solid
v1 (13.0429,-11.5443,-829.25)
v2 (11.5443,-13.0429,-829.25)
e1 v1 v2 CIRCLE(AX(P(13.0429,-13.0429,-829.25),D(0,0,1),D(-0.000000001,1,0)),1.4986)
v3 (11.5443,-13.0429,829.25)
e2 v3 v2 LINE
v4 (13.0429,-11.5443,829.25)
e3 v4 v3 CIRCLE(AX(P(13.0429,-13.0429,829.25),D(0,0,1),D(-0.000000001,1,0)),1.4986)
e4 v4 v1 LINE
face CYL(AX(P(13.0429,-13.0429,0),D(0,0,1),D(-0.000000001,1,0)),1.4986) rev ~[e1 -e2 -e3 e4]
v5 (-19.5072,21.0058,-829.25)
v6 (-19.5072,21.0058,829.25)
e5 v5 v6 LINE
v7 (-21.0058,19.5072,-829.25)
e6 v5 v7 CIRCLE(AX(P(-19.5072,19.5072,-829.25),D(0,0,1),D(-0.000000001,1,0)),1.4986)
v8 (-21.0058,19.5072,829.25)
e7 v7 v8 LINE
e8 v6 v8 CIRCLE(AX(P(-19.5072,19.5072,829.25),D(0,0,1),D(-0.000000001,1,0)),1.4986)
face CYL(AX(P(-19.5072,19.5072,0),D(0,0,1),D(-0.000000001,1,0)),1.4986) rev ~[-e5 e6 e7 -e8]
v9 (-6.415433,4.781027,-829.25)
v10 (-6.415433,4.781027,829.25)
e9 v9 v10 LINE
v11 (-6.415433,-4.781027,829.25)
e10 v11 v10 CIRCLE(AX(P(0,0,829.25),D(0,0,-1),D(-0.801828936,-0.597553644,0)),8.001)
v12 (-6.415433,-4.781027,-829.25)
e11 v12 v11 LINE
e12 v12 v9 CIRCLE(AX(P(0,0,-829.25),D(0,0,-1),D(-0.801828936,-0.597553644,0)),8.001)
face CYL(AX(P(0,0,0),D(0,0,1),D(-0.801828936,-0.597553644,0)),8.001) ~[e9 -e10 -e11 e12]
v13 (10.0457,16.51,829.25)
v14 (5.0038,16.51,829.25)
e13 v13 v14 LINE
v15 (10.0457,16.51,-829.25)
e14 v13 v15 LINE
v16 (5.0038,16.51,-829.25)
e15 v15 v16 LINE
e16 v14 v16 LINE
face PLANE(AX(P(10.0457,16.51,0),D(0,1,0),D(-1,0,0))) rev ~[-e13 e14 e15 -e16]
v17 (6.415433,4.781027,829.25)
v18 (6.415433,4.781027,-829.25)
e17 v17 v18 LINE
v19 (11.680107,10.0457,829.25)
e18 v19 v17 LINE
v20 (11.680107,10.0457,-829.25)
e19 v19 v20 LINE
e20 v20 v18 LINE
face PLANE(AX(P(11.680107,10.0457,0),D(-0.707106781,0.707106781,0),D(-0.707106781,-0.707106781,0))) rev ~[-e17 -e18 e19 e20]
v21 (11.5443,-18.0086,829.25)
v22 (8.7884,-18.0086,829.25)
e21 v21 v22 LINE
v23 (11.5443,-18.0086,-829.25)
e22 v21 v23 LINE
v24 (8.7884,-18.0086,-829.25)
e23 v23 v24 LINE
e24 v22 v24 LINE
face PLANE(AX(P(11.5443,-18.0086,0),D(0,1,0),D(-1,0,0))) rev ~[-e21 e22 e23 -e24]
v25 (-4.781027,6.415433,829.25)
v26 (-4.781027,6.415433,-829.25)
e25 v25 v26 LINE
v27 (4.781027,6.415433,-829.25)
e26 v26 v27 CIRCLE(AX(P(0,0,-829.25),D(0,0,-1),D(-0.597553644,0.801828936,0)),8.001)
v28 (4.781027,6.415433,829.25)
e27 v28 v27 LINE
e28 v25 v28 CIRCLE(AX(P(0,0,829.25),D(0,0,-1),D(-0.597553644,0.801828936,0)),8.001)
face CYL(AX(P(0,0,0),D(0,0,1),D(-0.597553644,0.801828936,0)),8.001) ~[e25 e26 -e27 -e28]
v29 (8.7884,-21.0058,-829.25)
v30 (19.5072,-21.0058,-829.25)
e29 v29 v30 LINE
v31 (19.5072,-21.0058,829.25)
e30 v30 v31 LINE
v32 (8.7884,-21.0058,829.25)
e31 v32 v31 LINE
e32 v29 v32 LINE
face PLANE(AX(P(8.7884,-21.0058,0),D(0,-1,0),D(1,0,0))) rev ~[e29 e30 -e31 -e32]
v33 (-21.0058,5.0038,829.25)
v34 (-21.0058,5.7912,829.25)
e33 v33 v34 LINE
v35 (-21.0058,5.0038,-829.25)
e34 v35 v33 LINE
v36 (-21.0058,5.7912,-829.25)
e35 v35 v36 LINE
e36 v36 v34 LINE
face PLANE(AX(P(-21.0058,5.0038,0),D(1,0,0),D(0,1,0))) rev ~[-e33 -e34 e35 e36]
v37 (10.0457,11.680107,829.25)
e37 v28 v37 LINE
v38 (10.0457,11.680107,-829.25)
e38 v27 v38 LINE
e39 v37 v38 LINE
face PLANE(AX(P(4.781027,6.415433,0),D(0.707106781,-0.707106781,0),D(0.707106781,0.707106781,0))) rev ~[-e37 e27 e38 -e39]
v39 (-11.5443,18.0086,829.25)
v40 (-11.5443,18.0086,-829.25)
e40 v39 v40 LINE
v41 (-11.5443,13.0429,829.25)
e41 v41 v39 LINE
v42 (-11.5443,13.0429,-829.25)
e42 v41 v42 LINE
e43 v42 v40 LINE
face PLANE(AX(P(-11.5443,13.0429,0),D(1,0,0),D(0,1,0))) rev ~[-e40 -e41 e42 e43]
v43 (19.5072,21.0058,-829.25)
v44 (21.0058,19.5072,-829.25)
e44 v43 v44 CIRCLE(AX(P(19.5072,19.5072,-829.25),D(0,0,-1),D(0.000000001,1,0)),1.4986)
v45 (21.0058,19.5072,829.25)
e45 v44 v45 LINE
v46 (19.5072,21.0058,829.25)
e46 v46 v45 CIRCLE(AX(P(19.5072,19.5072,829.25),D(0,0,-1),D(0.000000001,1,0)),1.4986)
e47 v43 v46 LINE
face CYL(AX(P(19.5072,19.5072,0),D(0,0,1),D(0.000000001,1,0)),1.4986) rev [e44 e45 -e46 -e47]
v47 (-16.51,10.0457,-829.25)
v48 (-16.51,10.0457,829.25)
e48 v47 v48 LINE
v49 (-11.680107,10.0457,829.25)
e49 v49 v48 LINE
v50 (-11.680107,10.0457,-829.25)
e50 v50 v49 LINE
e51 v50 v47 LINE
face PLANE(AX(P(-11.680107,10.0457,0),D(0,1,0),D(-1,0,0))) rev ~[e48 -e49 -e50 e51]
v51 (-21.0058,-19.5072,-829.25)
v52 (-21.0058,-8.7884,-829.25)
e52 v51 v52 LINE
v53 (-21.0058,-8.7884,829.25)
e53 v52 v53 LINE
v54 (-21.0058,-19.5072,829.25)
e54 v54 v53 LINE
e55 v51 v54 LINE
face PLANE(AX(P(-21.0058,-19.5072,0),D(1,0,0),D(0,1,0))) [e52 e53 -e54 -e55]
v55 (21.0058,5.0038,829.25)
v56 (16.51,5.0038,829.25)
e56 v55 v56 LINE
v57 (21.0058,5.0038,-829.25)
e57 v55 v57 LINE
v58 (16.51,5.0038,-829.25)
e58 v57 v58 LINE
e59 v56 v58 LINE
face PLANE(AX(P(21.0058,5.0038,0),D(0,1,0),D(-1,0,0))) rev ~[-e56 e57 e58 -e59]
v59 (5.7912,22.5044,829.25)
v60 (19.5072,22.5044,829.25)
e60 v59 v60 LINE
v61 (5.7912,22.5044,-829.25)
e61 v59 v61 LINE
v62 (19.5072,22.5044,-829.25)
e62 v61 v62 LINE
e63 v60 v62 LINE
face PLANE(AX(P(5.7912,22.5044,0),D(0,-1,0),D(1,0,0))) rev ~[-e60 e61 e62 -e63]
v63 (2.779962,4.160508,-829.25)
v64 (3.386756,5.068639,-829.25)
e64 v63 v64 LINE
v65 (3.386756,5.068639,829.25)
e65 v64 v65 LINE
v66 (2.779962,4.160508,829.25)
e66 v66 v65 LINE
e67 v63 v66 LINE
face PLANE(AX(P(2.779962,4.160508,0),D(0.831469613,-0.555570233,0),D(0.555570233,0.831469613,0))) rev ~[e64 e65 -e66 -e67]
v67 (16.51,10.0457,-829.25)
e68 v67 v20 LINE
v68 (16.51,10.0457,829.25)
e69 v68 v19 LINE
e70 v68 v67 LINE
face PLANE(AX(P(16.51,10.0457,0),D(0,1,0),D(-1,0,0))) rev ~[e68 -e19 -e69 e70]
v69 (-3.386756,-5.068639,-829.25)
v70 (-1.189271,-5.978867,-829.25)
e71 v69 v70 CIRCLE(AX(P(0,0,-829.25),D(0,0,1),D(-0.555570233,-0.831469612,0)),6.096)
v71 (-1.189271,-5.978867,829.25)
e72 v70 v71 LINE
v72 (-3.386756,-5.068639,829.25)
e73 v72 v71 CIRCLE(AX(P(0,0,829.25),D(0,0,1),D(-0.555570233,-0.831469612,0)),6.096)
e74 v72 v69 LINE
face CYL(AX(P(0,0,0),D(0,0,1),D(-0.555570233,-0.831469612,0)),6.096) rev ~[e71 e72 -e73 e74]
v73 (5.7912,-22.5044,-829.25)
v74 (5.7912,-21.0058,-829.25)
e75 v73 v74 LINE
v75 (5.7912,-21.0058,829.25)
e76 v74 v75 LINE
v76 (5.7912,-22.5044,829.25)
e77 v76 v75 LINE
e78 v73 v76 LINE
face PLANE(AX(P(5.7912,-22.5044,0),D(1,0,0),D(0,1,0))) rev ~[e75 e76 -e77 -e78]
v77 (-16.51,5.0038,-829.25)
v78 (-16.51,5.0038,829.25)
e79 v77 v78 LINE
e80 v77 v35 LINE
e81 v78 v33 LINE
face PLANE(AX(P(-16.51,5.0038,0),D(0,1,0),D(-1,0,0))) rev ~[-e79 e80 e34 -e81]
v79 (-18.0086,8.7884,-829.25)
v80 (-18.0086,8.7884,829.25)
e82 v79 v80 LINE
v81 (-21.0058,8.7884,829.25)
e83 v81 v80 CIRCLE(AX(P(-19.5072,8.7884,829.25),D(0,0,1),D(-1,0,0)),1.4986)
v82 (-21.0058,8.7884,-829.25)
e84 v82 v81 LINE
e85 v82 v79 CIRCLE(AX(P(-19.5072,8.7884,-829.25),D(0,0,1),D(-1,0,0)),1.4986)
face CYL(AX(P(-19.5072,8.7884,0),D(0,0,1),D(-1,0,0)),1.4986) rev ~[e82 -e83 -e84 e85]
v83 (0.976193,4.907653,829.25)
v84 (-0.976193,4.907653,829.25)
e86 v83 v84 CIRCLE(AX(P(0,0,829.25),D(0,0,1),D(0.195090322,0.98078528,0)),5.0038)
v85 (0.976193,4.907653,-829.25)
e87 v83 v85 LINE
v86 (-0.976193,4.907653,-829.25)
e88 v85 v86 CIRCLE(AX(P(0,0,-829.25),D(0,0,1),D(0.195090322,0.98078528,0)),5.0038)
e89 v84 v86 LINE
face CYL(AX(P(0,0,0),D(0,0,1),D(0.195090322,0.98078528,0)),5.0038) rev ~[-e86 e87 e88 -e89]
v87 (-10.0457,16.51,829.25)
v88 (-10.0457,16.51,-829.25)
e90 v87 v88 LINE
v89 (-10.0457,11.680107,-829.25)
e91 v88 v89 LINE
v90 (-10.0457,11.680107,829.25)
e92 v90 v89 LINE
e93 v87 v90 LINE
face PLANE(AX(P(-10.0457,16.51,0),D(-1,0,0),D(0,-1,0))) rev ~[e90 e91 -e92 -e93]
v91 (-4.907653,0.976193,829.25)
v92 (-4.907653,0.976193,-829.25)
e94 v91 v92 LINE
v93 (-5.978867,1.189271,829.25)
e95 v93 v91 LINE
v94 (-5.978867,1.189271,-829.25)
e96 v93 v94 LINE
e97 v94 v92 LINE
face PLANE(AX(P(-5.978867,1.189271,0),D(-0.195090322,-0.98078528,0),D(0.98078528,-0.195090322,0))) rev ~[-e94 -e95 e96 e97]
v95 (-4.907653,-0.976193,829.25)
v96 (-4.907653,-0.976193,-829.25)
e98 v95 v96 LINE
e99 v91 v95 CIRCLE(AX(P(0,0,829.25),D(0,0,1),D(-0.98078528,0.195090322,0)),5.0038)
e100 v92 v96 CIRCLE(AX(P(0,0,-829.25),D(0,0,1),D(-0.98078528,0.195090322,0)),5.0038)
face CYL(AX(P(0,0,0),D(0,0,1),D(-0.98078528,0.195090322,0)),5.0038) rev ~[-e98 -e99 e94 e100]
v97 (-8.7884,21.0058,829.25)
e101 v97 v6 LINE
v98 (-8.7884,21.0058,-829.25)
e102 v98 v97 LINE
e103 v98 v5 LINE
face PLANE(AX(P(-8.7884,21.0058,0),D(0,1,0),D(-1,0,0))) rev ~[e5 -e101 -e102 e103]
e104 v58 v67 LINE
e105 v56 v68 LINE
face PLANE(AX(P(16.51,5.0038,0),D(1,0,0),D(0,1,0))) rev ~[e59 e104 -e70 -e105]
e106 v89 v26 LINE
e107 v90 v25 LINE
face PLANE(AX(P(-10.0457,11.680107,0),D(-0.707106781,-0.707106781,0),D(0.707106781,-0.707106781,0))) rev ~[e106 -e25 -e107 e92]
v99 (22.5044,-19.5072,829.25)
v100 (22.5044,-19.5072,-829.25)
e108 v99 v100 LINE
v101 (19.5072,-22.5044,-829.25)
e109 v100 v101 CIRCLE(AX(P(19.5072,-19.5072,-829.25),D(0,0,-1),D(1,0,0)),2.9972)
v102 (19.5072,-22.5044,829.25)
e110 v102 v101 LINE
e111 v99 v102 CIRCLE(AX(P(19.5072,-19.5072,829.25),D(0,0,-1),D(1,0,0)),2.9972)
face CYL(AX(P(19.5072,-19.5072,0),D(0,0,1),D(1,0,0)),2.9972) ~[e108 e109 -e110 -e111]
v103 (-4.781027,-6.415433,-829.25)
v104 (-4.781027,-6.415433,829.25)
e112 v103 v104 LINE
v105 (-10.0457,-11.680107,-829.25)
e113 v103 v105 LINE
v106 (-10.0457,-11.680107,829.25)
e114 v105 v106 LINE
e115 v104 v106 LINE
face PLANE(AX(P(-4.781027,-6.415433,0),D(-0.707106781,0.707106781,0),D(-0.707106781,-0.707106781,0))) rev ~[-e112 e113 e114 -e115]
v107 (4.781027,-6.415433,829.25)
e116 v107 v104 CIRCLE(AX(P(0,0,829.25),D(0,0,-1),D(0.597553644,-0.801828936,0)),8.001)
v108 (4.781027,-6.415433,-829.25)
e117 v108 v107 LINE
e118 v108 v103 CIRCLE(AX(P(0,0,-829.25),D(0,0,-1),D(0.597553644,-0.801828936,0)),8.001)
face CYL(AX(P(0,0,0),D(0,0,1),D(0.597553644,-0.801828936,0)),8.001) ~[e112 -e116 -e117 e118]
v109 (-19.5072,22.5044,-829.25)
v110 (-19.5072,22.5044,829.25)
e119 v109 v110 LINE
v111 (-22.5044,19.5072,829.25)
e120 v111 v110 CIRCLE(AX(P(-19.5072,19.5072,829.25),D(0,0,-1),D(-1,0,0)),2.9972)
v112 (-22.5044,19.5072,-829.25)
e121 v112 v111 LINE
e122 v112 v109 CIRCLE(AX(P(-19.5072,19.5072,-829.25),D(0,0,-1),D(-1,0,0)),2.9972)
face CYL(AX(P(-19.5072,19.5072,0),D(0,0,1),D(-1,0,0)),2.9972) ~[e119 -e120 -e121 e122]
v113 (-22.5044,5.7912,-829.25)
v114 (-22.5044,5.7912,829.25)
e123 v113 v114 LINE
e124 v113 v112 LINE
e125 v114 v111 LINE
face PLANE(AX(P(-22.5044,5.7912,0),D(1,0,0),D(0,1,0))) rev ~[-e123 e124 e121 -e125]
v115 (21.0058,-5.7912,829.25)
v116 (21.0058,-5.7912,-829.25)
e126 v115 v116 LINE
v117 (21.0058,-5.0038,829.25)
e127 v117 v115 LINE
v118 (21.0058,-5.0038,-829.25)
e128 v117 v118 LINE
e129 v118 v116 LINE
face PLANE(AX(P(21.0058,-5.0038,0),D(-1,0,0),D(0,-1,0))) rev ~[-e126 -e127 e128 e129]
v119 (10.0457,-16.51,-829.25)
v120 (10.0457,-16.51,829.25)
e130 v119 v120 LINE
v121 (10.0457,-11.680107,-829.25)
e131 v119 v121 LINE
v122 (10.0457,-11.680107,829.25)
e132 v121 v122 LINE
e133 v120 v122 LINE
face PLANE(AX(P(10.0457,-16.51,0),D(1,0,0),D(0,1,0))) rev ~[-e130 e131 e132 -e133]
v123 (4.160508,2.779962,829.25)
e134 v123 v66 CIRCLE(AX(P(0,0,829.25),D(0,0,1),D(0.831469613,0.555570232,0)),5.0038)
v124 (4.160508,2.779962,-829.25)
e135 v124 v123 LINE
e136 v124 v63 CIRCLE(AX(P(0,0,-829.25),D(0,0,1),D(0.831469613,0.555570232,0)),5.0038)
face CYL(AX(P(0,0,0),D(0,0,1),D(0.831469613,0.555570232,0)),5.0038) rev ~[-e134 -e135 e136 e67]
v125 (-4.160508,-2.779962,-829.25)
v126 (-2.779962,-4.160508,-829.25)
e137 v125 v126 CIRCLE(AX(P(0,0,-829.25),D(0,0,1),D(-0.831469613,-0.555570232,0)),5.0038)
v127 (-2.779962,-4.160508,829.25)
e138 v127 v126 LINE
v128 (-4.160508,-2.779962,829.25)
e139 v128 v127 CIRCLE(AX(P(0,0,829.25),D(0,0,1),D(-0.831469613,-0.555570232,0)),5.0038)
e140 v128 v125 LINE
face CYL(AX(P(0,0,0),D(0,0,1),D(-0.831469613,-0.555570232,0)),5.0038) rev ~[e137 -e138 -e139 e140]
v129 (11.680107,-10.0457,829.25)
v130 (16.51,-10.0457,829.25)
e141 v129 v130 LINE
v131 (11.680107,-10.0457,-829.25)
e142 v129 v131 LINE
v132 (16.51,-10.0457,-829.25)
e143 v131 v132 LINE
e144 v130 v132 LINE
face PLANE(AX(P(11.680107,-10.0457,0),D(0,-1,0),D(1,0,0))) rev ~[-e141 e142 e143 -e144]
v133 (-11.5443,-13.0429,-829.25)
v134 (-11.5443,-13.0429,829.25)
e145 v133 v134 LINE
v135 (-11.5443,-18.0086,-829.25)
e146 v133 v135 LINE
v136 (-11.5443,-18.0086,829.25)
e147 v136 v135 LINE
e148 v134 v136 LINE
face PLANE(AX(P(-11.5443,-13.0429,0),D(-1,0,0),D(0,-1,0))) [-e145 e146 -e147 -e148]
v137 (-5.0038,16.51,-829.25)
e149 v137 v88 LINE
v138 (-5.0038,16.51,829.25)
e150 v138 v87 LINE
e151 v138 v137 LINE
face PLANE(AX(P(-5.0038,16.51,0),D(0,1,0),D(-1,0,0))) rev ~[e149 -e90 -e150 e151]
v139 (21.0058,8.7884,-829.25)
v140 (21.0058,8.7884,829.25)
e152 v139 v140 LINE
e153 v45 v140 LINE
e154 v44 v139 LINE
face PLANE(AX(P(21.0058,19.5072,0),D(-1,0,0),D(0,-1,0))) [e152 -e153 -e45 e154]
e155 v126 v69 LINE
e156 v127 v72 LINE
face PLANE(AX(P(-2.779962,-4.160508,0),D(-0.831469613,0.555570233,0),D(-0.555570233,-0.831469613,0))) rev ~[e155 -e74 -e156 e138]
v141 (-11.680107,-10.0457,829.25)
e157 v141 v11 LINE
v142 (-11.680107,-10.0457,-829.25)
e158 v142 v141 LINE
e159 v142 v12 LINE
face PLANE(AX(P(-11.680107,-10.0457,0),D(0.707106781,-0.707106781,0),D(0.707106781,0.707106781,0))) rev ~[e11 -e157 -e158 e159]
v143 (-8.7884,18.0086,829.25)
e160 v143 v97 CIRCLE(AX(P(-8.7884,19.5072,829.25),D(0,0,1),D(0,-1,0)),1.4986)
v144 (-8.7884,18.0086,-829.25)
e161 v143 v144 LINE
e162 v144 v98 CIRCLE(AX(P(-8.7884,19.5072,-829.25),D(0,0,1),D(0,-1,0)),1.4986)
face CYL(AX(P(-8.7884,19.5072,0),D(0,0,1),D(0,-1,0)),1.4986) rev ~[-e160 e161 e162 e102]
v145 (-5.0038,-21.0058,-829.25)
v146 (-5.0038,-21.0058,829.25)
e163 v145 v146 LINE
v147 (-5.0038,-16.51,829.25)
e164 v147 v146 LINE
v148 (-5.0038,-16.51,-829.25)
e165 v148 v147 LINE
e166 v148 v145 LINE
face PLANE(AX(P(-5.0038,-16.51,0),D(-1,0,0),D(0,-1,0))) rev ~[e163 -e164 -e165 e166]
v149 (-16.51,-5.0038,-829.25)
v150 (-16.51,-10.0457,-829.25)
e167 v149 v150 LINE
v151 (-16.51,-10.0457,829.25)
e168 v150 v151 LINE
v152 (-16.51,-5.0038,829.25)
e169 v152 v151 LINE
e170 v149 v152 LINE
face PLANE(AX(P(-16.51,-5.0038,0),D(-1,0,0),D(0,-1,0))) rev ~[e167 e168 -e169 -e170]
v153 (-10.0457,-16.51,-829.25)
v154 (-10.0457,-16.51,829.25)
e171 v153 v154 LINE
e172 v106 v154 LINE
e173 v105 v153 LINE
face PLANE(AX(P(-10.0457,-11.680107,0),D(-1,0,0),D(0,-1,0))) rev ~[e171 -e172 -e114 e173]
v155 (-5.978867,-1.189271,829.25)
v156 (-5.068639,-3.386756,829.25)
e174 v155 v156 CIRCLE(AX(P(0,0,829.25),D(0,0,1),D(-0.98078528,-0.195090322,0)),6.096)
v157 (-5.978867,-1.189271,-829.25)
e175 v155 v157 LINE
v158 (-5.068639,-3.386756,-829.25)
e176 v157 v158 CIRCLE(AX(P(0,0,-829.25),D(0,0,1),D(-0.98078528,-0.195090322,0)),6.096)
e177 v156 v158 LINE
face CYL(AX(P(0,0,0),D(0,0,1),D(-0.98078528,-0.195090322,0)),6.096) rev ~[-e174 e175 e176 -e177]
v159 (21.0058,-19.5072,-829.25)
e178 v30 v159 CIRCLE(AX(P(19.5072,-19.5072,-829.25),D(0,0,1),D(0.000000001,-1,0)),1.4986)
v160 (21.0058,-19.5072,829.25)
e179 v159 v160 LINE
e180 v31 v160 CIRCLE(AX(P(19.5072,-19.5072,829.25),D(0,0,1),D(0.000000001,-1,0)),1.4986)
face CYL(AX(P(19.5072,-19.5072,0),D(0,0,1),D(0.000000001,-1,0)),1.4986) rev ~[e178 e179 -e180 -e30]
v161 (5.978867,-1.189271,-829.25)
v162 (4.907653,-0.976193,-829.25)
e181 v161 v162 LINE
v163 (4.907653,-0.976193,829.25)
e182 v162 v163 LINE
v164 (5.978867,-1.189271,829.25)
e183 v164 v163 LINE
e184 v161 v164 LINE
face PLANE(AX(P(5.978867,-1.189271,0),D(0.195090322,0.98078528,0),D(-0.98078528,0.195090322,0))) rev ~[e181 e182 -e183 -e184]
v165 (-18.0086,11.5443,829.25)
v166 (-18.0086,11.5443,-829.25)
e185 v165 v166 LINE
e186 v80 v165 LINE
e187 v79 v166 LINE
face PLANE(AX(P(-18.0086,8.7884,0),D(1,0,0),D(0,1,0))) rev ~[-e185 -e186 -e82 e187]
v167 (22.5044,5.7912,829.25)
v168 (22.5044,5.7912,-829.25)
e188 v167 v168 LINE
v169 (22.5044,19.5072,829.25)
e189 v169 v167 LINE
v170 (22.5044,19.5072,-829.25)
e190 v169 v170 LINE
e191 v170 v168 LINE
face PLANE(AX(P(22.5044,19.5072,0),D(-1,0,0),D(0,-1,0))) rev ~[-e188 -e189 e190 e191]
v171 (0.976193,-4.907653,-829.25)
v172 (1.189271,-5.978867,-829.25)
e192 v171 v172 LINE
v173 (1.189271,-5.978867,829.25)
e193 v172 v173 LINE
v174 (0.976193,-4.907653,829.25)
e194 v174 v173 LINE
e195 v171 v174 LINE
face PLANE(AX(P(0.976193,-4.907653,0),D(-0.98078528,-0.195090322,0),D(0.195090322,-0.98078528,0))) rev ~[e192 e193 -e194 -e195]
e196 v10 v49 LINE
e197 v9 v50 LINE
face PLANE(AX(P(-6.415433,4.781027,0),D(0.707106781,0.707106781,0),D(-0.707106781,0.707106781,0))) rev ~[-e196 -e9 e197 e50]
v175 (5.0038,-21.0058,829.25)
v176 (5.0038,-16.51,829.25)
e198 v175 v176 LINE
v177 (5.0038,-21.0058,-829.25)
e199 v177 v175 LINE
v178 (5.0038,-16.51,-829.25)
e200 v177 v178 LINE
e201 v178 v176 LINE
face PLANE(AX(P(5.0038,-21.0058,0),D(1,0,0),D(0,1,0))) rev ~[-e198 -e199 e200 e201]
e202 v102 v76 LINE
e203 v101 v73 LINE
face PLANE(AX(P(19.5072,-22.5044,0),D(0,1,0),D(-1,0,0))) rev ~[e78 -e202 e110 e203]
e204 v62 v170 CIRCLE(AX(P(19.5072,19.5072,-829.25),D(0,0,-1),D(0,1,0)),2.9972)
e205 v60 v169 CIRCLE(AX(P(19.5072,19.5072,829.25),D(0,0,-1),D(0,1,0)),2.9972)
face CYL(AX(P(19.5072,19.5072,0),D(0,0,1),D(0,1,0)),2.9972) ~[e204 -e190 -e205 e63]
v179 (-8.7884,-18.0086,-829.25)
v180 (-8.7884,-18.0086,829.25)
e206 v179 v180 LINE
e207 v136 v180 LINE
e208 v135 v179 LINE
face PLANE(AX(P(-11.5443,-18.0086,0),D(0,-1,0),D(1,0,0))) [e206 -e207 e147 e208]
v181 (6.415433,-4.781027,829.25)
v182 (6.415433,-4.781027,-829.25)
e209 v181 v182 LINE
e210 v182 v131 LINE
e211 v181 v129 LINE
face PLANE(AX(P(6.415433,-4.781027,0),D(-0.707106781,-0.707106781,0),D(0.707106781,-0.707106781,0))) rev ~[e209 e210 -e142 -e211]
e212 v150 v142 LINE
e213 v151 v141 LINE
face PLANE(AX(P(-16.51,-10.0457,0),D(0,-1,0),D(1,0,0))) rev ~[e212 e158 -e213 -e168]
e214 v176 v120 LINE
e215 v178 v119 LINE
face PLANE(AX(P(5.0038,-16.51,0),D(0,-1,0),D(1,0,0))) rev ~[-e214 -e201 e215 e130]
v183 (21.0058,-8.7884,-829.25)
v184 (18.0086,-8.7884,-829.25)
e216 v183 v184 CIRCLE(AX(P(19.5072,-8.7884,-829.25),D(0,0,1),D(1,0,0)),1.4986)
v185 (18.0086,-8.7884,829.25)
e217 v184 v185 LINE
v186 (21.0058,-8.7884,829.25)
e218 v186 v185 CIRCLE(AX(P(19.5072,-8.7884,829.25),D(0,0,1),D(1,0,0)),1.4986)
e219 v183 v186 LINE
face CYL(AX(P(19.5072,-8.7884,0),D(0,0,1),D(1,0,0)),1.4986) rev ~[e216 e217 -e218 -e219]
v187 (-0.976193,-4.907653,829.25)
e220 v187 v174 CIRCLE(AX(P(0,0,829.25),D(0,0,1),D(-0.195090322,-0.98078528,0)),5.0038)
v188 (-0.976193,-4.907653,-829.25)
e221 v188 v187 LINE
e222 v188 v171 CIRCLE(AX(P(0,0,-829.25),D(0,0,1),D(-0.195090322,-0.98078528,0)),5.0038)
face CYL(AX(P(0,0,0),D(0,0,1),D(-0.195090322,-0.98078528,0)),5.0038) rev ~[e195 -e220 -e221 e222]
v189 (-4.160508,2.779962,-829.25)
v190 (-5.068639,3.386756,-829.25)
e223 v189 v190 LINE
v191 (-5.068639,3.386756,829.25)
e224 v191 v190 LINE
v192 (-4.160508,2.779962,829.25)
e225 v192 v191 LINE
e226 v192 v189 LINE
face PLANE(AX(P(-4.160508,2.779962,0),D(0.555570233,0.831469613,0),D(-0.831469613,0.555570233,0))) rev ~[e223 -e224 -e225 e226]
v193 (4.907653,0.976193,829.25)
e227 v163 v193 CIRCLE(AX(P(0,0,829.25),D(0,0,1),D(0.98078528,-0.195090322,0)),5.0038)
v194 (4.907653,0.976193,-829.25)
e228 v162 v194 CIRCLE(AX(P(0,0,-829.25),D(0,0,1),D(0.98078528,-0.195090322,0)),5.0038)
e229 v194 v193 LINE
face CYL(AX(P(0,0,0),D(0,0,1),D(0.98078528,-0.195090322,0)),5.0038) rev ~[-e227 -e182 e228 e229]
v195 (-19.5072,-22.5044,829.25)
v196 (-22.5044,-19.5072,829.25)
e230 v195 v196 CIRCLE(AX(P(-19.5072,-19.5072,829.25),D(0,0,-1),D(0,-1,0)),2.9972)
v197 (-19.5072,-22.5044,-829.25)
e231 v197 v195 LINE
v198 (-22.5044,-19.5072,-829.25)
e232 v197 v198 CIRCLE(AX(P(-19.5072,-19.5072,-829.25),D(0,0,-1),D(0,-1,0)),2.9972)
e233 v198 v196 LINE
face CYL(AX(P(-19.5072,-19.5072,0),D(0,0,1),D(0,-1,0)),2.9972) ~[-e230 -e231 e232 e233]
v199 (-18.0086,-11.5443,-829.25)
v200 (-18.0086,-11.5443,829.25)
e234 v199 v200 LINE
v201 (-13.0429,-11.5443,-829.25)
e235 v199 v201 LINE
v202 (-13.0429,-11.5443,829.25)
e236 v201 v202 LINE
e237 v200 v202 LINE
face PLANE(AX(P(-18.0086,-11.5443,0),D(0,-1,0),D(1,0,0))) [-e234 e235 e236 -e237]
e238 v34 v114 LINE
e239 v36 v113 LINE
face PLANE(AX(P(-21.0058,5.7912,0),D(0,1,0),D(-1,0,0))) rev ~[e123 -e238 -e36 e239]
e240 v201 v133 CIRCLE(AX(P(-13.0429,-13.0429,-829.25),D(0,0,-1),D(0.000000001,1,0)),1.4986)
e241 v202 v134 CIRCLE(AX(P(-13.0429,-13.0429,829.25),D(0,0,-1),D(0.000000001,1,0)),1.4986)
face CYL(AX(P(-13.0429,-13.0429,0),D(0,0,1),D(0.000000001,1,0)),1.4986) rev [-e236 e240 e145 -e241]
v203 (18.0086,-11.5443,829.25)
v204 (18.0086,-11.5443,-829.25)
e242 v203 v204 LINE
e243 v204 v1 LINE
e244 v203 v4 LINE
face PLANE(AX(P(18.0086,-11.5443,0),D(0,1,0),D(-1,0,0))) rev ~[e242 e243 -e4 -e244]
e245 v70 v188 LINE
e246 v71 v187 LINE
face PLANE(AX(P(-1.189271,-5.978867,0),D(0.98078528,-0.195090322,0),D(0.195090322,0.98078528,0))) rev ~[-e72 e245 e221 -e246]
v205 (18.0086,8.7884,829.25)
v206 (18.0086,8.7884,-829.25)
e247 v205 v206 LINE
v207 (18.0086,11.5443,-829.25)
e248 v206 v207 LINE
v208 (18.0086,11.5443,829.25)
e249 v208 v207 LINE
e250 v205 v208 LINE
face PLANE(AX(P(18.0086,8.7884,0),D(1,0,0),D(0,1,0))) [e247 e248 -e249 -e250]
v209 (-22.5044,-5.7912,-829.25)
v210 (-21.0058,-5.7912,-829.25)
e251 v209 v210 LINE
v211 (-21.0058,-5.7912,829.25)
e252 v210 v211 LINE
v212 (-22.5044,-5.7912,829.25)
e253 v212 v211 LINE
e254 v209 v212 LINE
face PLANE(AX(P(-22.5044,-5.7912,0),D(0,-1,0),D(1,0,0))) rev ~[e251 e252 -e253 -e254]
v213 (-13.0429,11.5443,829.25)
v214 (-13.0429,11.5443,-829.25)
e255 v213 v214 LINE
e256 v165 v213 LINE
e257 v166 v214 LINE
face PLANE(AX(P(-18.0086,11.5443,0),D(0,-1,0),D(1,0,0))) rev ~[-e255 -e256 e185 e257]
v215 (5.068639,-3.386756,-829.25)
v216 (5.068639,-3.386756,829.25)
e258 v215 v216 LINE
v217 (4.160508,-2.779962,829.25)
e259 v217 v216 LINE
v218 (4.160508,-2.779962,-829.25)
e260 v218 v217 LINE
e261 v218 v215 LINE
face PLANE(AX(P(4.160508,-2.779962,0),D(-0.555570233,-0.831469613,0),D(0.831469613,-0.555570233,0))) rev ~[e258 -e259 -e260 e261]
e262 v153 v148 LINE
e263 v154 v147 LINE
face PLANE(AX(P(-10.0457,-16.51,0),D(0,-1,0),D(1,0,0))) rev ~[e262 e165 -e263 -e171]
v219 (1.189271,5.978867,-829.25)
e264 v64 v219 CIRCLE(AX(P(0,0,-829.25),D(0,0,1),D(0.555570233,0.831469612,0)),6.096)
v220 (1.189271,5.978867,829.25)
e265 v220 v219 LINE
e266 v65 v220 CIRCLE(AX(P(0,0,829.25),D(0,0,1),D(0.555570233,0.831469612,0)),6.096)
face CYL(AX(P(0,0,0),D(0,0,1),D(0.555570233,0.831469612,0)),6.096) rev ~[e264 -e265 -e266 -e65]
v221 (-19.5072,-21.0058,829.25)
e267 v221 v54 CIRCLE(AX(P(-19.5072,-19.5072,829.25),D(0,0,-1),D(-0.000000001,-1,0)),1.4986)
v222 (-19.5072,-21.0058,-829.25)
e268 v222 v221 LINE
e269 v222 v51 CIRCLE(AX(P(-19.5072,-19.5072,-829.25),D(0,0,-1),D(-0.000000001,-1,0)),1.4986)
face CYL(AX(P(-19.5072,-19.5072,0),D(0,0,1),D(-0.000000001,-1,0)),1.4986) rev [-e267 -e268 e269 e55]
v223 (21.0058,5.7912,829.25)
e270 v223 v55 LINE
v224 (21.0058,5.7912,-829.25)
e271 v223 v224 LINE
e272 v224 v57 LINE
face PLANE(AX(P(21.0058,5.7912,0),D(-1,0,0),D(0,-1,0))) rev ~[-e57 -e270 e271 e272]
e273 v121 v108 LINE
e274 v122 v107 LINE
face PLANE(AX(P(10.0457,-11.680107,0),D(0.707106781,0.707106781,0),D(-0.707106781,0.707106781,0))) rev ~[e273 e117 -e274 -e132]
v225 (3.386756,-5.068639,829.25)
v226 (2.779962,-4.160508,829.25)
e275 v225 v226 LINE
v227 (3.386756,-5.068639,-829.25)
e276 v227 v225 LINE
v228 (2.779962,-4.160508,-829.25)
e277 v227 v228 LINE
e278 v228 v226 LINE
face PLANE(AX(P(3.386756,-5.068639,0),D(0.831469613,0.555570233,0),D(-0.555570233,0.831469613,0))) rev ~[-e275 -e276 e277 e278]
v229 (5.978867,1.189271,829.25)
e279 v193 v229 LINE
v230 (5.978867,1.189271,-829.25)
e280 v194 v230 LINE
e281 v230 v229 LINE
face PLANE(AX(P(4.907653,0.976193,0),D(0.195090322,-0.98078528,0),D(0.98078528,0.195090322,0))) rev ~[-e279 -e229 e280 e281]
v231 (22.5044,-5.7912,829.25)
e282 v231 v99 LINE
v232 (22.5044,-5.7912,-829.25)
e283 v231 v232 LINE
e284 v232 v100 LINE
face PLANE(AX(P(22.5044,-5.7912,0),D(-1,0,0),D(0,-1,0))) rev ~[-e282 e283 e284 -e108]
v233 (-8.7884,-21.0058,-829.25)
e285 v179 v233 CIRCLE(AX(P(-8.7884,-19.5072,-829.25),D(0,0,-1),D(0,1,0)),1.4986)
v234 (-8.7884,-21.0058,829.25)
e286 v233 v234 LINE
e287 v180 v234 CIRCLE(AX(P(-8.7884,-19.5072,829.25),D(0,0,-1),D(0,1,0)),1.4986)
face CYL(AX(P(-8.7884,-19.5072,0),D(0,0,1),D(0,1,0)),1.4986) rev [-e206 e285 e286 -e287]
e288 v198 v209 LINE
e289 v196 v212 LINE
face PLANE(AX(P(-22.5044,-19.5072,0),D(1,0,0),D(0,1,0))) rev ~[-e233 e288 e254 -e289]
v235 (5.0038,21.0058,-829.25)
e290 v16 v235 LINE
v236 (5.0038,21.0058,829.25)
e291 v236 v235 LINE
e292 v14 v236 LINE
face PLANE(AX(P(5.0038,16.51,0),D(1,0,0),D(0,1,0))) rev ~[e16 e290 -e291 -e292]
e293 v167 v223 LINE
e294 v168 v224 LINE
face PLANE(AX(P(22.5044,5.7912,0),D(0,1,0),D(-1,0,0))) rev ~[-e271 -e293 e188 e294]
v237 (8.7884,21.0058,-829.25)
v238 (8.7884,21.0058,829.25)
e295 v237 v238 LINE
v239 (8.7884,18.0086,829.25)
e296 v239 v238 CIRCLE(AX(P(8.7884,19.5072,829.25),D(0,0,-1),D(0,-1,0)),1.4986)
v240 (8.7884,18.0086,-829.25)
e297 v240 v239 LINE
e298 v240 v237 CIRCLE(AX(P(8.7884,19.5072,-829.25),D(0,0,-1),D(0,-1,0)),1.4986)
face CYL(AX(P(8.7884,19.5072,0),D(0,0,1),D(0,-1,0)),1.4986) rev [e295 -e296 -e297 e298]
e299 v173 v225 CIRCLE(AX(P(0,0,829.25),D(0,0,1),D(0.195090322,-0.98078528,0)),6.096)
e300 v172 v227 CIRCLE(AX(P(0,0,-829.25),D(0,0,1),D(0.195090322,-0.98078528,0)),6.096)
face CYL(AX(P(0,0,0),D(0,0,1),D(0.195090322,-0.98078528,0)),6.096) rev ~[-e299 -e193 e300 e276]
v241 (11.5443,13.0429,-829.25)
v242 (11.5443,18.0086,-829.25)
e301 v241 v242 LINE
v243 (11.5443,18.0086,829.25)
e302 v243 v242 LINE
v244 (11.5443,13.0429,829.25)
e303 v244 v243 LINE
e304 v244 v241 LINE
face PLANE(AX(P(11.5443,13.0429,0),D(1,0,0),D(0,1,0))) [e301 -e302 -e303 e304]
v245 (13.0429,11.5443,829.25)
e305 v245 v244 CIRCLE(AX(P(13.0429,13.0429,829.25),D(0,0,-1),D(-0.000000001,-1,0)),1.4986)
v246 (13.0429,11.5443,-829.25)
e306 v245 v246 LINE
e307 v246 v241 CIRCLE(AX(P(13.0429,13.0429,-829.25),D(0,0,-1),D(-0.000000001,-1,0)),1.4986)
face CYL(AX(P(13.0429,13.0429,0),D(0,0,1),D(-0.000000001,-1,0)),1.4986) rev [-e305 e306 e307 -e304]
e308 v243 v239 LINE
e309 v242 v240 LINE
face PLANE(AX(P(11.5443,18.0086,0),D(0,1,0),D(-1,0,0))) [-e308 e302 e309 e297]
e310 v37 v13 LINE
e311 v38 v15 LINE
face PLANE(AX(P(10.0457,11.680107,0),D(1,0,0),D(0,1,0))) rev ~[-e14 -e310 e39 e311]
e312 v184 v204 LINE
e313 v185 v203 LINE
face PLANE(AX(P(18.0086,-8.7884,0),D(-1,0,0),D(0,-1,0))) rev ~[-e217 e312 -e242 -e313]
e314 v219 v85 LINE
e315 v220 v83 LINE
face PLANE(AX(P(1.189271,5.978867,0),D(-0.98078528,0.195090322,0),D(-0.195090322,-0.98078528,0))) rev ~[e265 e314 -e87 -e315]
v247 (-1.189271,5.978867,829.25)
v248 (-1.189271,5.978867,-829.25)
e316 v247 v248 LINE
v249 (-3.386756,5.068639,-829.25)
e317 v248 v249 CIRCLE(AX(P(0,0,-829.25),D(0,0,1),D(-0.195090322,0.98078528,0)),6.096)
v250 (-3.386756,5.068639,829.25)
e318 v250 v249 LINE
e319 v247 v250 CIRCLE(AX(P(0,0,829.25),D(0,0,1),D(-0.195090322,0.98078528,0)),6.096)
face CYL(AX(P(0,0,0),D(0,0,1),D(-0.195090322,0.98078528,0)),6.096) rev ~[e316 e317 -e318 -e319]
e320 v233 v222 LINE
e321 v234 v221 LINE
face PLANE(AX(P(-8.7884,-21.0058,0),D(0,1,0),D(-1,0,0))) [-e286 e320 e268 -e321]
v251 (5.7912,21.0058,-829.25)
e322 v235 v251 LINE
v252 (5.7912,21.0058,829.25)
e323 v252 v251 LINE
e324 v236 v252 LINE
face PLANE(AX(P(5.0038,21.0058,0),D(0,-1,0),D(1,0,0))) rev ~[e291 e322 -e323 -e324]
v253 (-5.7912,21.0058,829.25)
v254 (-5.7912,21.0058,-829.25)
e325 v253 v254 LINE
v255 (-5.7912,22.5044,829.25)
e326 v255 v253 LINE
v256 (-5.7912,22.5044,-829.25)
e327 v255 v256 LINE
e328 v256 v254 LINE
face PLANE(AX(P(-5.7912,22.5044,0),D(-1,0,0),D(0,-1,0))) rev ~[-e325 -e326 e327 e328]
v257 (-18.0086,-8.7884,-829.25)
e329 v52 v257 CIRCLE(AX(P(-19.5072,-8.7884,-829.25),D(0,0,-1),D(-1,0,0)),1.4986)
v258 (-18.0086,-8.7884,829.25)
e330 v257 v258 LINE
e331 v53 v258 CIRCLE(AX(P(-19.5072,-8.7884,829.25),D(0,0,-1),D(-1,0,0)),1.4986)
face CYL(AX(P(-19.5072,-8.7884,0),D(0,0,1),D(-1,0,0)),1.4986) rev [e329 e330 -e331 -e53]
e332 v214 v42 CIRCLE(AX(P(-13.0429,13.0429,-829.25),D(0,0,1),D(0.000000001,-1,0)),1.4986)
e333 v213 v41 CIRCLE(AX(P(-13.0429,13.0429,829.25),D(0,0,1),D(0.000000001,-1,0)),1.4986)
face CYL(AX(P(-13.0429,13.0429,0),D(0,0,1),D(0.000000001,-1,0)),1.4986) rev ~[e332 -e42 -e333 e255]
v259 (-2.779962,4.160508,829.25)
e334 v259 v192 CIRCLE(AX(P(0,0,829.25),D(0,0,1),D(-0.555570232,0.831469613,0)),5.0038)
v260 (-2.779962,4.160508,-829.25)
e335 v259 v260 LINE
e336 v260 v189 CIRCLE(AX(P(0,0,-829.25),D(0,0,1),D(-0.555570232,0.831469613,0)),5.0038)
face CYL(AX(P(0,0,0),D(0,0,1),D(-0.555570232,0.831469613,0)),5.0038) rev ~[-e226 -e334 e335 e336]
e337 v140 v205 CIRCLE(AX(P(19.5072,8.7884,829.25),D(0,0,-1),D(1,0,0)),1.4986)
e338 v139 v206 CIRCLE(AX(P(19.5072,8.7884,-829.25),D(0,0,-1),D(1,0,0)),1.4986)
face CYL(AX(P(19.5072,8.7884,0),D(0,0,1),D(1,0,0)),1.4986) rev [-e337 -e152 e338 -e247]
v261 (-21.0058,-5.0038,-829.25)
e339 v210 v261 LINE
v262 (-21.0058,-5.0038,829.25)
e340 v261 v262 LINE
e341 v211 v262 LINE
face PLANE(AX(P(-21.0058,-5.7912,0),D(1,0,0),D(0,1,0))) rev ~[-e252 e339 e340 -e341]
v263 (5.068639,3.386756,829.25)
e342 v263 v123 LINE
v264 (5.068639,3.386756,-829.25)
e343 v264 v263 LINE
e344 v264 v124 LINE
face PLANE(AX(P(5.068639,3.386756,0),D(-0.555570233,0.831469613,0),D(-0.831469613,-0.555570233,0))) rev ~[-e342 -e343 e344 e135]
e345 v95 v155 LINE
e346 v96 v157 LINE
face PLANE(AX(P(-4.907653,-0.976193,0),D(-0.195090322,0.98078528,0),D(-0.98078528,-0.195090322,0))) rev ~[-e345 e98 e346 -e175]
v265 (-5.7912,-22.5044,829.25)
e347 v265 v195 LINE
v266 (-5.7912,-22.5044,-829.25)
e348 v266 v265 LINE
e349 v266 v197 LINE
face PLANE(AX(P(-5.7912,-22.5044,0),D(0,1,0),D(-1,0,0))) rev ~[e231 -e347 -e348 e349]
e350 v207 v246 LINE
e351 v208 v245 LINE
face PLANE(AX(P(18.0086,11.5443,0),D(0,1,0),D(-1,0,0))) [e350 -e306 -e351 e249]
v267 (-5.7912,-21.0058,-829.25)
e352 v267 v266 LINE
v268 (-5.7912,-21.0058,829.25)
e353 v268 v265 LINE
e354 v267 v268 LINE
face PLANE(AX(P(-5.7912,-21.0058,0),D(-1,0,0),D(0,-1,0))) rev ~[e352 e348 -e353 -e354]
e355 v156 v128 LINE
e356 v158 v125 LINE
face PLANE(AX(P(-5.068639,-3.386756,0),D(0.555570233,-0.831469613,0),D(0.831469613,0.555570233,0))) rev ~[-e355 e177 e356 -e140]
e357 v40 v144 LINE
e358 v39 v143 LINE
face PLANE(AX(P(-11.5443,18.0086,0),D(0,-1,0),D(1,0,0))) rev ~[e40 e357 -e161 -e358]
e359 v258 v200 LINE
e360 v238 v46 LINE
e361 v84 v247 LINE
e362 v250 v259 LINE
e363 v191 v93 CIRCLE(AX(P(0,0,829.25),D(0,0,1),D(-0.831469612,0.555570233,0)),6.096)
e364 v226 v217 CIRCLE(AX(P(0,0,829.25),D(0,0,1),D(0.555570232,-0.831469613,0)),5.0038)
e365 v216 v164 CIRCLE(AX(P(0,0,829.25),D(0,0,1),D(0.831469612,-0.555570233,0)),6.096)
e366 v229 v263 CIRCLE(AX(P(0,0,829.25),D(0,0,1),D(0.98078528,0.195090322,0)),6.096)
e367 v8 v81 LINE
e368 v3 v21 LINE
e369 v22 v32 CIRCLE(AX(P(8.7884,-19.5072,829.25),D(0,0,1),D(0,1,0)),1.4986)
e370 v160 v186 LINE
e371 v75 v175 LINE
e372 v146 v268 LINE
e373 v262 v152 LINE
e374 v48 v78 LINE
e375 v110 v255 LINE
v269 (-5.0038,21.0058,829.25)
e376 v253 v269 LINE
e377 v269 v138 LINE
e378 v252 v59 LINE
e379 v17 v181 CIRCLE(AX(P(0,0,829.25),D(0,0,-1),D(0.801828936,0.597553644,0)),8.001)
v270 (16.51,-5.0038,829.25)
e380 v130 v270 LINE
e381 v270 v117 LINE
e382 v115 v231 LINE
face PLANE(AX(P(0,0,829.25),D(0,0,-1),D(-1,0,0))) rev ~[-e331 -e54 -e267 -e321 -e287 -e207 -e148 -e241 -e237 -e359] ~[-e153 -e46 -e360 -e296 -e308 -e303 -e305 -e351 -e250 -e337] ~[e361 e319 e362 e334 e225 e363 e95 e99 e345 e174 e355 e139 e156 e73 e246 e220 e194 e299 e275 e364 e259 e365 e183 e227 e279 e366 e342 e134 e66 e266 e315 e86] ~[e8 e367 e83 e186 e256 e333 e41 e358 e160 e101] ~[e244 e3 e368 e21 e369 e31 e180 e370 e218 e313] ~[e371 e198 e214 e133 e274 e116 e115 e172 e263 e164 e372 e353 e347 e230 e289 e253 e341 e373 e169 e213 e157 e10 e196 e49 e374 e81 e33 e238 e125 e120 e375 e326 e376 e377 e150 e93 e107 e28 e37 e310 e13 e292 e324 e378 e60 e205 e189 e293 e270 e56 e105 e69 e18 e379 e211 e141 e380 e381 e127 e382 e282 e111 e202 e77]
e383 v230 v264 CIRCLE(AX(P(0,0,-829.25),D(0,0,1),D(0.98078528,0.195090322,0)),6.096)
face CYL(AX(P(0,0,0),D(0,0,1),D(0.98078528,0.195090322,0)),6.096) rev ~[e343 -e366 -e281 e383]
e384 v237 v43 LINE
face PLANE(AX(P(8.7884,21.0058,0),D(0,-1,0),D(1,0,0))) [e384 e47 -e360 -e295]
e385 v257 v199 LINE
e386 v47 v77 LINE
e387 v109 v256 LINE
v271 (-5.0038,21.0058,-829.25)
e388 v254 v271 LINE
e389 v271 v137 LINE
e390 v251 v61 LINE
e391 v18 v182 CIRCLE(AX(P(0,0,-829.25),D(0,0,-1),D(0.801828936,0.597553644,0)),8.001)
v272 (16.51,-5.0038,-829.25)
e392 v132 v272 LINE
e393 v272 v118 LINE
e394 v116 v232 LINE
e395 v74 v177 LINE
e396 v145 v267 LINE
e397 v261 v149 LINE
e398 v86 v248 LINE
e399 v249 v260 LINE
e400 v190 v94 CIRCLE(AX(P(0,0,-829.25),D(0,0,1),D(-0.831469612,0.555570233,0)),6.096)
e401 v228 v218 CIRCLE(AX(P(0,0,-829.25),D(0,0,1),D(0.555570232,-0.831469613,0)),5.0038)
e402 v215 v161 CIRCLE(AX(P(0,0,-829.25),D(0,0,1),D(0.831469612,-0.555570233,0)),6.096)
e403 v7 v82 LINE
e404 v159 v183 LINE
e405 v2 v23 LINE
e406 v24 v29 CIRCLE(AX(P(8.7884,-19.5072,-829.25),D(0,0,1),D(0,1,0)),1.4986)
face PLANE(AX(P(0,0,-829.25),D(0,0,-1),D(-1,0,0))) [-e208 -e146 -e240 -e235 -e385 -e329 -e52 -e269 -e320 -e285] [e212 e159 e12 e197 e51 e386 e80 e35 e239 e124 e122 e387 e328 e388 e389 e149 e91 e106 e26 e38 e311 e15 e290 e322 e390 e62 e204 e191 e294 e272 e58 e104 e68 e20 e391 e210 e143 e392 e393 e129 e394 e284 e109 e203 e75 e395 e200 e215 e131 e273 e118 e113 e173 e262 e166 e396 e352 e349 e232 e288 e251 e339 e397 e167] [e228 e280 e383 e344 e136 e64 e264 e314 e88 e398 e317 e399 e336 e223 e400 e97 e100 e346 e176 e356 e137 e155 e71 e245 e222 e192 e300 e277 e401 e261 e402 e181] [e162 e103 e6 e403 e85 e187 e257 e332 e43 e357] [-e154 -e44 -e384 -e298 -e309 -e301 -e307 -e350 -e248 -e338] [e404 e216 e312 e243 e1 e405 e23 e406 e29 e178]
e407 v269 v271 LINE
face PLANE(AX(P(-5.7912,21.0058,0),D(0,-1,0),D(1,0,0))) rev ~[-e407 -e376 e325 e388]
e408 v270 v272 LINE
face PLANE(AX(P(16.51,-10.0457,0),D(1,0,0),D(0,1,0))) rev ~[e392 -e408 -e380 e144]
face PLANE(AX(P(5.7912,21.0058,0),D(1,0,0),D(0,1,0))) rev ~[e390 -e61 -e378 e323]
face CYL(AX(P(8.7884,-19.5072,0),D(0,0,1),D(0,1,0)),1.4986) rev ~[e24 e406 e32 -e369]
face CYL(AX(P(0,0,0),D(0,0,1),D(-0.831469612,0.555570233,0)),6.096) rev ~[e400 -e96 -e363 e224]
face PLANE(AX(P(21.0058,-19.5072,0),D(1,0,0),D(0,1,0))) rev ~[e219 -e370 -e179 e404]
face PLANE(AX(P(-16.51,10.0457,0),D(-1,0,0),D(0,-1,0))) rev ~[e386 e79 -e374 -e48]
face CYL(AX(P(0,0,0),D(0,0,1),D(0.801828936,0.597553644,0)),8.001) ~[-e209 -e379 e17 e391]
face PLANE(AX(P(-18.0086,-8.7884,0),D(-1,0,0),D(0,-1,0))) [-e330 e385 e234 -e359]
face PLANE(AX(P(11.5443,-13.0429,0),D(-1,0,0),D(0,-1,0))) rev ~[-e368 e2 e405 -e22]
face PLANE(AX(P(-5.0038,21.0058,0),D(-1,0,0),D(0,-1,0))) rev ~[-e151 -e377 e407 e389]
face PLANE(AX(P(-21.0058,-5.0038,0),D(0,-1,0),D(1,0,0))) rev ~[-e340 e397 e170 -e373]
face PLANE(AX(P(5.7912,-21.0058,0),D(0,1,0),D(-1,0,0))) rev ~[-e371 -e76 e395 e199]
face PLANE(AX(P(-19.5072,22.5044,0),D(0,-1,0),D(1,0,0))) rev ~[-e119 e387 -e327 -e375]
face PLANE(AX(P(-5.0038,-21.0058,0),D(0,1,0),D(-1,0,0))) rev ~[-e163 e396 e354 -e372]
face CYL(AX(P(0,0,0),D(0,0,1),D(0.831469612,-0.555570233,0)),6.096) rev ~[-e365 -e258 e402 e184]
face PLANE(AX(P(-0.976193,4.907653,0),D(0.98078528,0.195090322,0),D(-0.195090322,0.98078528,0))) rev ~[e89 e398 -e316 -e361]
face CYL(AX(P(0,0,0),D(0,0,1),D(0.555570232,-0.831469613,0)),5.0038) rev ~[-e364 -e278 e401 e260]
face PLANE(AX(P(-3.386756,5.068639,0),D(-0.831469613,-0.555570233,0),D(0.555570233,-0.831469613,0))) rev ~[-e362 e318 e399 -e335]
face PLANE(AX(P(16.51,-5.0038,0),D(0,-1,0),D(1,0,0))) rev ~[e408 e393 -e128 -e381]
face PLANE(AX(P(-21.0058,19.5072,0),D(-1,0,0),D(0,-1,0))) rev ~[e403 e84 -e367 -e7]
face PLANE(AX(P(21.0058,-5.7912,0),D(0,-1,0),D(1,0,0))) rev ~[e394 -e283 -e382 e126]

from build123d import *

# Parameters (mm, degrees)
BOSS_EXTRUDE1_DEPTH = 829.25


with BuildPart() as part:
    # Sketch1 → Boss-Extrude1 (new, symmetric)
    with BuildSketch(Plane.XY):
        with BuildLine():
            Line((-19.5072, 22.5044), (-5.7912, 22.5044))
            Line((-5.7912, 22.5044), (-5.7912, 21.0058))
            Line((-5.7912, 21.0058), (-5.0038, 21.0058))
            Line((-5.0038, 21.0058), (-5.0038, 16.51))
            Line((-5.0038, 16.51), (-10.0457, 16.51))
            Line((-10.0457, 16.51), (-10.0457, 11.680106614))
            Line((-10.0457, 11.680106614), (-4.781026704, 6.415433318))
            ThreePointArc((-4.781026704, 6.415433318), (0, 8.001), (4.781026704, 6.415433318))
            Line((4.781026704, 6.415433318), (10.0457, 11.680106614))
            Line((10.0457, 11.680106614), (10.0457, 16.51))
            Line((10.0457, 16.51), (5.0038, 16.51))
            Line((5.0038, 16.51), (5.0038, 21.0058))
            Line((5.0038, 21.0058), (5.7912, 21.0058))
            Line((5.7912, 21.0058), (5.7912, 22.5044))
            Line((5.7912, 22.5044), (19.5072, 22.5044))
            ThreePointArc((19.5072, 22.5044), (21.626540445, 21.626540445), (22.5044, 19.5072))
            Line((22.5044, 19.5072), (22.5044, 5.7912))
            Line((22.5044, 5.7912), (21.0058, 5.7912))
            Line((21.0058, 5.7912), (21.0058, 5.0038))
            Line((21.0058, 5.0038), (16.51, 5.0038))
            Line((16.51, 5.0038), (16.51, 10.0457))
            Line((16.51, 10.0457), (11.680106614, 10.0457))
            Line((11.680106614, 10.0457), (6.415433318, 4.781026704))
            ThreePointArc((6.415433318, 4.781026704), (8.001, 0), (6.415433318, -4.781026704))
            Line((6.415433318, -4.781026704), (11.680106614, -10.0457))
            Line((11.680106614, -10.0457), (16.51, -10.0457))
            Line((16.51, -10.0457), (16.51, -5.0038))
            Line((16.51, -5.0038), (21.0058, -5.0038))
            Line((21.0058, -5.0038), (21.0058, -5.7912))
            Line((21.0058, -5.7912), (22.5044, -5.7912))
            Line((22.5044, -5.7912), (22.5044, -19.5072))
            ThreePointArc((22.5044, -19.5072), (21.626540445, -21.626540445), (19.5072, -22.5044))
            Line((19.5072, -22.5044), (5.7912, -22.5044))
            Line((5.7912, -22.5044), (5.7912, -21.0058))
            Line((5.7912, -21.0058), (5.0038, -21.0058))
            Line((5.0038, -21.0058), (5.0038, -16.51))
            Line((5.0038, -16.51), (10.0457, -16.51))
            Line((10.0457, -16.51), (10.0457, -11.680106614))
            Line((10.0457, -11.680106614), (4.781026704, -6.415433318))
            ThreePointArc((4.781026704, -6.415433318), (0, -8.001), (-4.781026704, -6.415433318))
            Line((-4.781026704, -6.415433318), (-10.0457, -11.680106614))
            Line((-10.0457, -11.680106614), (-10.0457, -16.51))
            Line((-10.0457, -16.51), (-5.0038, -16.51))
            Line((-5.0038, -16.51), (-5.0038, -21.0058))
            Line((-5.0038, -21.0058), (-5.7912, -21.0058))
            Line((-5.7912, -21.0058), (-5.7912, -22.5044))
            Line((-5.7912, -22.5044), (-19.5072, -22.5044))
            ThreePointArc((-19.5072, -22.5044), (-21.626540445, -21.626540445), (-22.5044, -19.5072))
            Line((-22.5044, -19.5072), (-22.5044, -5.7912))
            Line((-22.5044, -5.7912), (-21.0058, -5.7912))
            Line((-21.0058, -5.7912), (-21.0058, -5.0038))
            Line((-21.0058, -5.0038), (-16.51, -5.0038))
            Line((-16.51, -5.0038), (-16.51, -10.0457))
            Line((-16.51, -10.0457), (-11.680106614, -10.0457))
            Line((-11.680106614, -10.0457), (-6.415433318, -4.781026704))
            ThreePointArc((-6.415433318, -4.781026704), (-8.001, 0), (-6.415433318, 4.781026704))
            Line((-6.415433318, 4.781026704), (-11.680106614, 10.0457))
            Line((-11.680106614, 10.0457), (-16.51, 10.0457))
            Line((-16.51, 10.0457), (-16.51, 5.0038))
            Line((-16.51, 5.0038), (-21.0058, 5.0038))
            Line((-21.0058, 5.0038), (-21.0058, 5.7912))
            Line((-21.0058, 5.7912), (-22.5044, 5.7912))
            Line((-22.5044, 5.7912), (-22.5044, 19.5072))
            ThreePointArc((-22.5044, 19.5072), (-21.626540445, 21.626540445), (-19.5072, 22.5044))
        make_face()
        with BuildLine():
            Line((-18.0086, 11.5443), (-13.0429, 11.5443))
            ThreePointArc((-13.0429, 11.5443), (-11.983229778, 11.983229778), (-11.5443, 13.0429))
            Line((-11.5443, 13.0429), (-11.5443, 18.0086))
            Line((-11.5443, 18.0086), (-8.7884, 18.0086))
            ThreePointArc((-8.7884, 18.0086), (-7.2898, 19.5072), (-8.7884, 21.0058))
            Line((-8.7884, 21.0058), (-19.5072, 21.0058))
            ThreePointArc((-19.5072, 21.0058), (-20.566870222, 20.566870222), (-21.0058, 19.5072))
            Line((-21.0058, 19.5072), (-21.0058, 8.7884))
            ThreePointArc((-21.0058, 8.7884), (-19.5072, 7.2898), (-18.0086, 8.7884))
            Line((-18.0086, 8.7884), (-18.0086, 11.5443))
        make_face(mode=Mode.SUBTRACT)
        with BuildLine():
            Line((1.189270603, 5.978867069), (0.976192953, 4.907653386))
            ThreePointArc((0.976192953, 4.907653386), (0, 5.0038), (-0.976192953, 4.907653386))
            Line((-0.976192953, 4.907653386), (-1.189270603, 5.978867069))
            ThreePointArc((-1.189270603, 5.978867069), (-2.332838204, 5.63196963), (-3.38675614, 5.068638757))
            Line((-3.38675614, 5.068638757), (-2.779962332, 4.160507646))
            ThreePointArc((-2.779962332, 4.160507646), (-3.538220912, 3.538220912), (-4.160507646, 2.779962332))
            Line((-4.160507646, 2.779962332), (-5.068638757, 3.38675614))
            ThreePointArc((-5.068638757, 3.38675614), (-5.63196963, 2.332838204), (-5.978867069, 1.189270603))
            Line((-5.978867069, 1.189270603), (-4.907653386, 0.976192953))
            ThreePointArc((-4.907653386, 0.976192953), (-5.0038, 0), (-4.907653386, -0.976192953))
            Line((-4.907653386, -0.976192953), (-5.978867069, -1.189270603))
            ThreePointArc((-5.978867069, -1.189270603), (-5.63196963, -2.332838204), (-5.068638757, -3.38675614))
            Line((-5.068638757, -3.38675614), (-4.160507646, -2.779962332))
            ThreePointArc((-4.160507646, -2.779962332), (-3.538220912, -3.538220912), (-2.779962332, -4.160507646))
            Line((-2.779962332, -4.160507646), (-3.38675614, -5.068638757))
            ThreePointArc((-3.38675614, -5.068638757), (-2.332838204, -5.63196963), (-1.189270603, -5.978867069))
            Line((-1.189270603, -5.978867069), (-0.976192953, -4.907653386))
            ThreePointArc((-0.976192953, -4.907653386), (0, -5.0038), (0.976192953, -4.907653386))
            Line((0.976192953, -4.907653386), (1.189270603, -5.978867069))
            ThreePointArc((1.189270603, -5.978867069), (2.332838204, -5.63196963), (3.38675614, -5.068638757))
            Line((3.38675614, -5.068638757), (2.779962332, -4.160507646))
            ThreePointArc((2.779962332, -4.160507646), (3.538220912, -3.538220912), (4.160507646, -2.779962332))
            Line((4.160507646, -2.779962332), (5.068638757, -3.38675614))
            ThreePointArc((5.068638757, -3.38675614), (5.63196963, -2.332838204), (5.978867069, -1.189270603))
            Line((5.978867069, -1.189270603), (4.907653386, -0.976192953))
            ThreePointArc((4.907653386, -0.976192953), (5.0038, 0), (4.907653386, 0.976192953))
            Line((4.907653386, 0.976192953), (5.978867069, 1.189270603))
            ThreePointArc((5.978867069, 1.189270603), (5.63196963, 2.332838204), (5.068638757, 3.38675614))
            Line((5.068638757, 3.38675614), (4.160507646, 2.779962332))
            ThreePointArc((4.160507646, 2.779962332), (3.538220912, 3.538220912), (2.779962332, 4.160507646))
            Line((2.779962332, 4.160507646), (3.38675614, 5.068638757))
            ThreePointArc((3.38675614, 5.068638757), (2.332838204, 5.63196963), (1.189270603, 5.978867069))
        make_face(mode=Mode.SUBTRACT)
        with BuildLine():
            Line((11.5443, 18.0086), (8.7884, 18.0086))
            ThreePointArc((8.7884, 18.0086), (7.2898, 19.5072), (8.7884, 21.0058))
            Line((8.7884, 21.0058), (19.5072, 21.0058))
            ThreePointArc((19.5072, 21.0058), (20.566870222, 20.566870222), (21.0058, 19.5072))
            Line((21.0058, 19.5072), (21.0058, 8.7884))
            ThreePointArc((21.0058, 8.7884), (19.5072, 7.2898), (18.0086, 8.7884))
            Line((18.0086, 8.7884), (18.0086, 11.5443))
            Line((18.0086, 11.5443), (13.0429, 11.5443))
            ThreePointArc((13.0429, 11.5443), (11.983229778, 11.983229778), (11.5443, 13.0429))
            Line((11.5443, 13.0429), (11.5443, 18.0086))
        make_face(mode=Mode.SUBTRACT)
        with BuildLine():
            Line((18.0086, -11.5443), (13.0429, -11.5443))
            ThreePointArc((13.0429, -11.5443), (11.983229778, -11.983229778), (11.5443, -13.0429))
            Line((11.5443, -13.0429), (11.5443, -18.0086))
            Line((11.5443, -18.0086), (8.7884, -18.0086))
            ThreePointArc((8.7884, -18.0086), (7.2898, -19.5072), (8.7884, -21.0058))
            Line((8.7884, -21.0058), (19.5072, -21.0058))
            ThreePointArc((19.5072, -21.0058), (20.566870222, -20.566870222), (21.0058, -19.5072))
            Line((21.0058, -19.5072), (21.0058, -8.7884))
            ThreePointArc((21.0058, -8.7884), (19.5072, -7.2898), (18.0086, -8.7884))
            Line((18.0086, -8.7884), (18.0086, -11.5443))
        make_face(mode=Mode.SUBTRACT)
        with BuildLine():
            Line((-11.5443, -18.0086), (-8.7884, -18.0086))
            ThreePointArc((-8.7884, -18.0086), (-7.2898, -19.5072), (-8.7884, -21.0058))
            Line((-8.7884, -21.0058), (-19.5072, -21.0058))
            ThreePointArc((-19.5072, -21.0058), (-20.566870222, -20.566870222), (-21.0058, -19.5072))
            Line((-21.0058, -19.5072), (-21.0058, -8.7884))
            ThreePointArc((-21.0058, -8.7884), (-19.5072, -7.2898), (-18.0086, -8.7884))
            Line((-18.0086, -8.7884), (-18.0086, -11.5443))
            Line((-18.0086, -11.5443), (-13.0429, -11.5443))
            ThreePointArc((-13.0429, -11.5443), (-11.983229778, -11.983229778), (-11.5443, -13.0429))
            Line((-11.5443, -13.0429), (-11.5443, -18.0086))
        make_face(mode=Mode.SUBTRACT)
    extrude(amount=BOSS_EXTRUDE1_DEPTH, both=True)


solid = part.part
